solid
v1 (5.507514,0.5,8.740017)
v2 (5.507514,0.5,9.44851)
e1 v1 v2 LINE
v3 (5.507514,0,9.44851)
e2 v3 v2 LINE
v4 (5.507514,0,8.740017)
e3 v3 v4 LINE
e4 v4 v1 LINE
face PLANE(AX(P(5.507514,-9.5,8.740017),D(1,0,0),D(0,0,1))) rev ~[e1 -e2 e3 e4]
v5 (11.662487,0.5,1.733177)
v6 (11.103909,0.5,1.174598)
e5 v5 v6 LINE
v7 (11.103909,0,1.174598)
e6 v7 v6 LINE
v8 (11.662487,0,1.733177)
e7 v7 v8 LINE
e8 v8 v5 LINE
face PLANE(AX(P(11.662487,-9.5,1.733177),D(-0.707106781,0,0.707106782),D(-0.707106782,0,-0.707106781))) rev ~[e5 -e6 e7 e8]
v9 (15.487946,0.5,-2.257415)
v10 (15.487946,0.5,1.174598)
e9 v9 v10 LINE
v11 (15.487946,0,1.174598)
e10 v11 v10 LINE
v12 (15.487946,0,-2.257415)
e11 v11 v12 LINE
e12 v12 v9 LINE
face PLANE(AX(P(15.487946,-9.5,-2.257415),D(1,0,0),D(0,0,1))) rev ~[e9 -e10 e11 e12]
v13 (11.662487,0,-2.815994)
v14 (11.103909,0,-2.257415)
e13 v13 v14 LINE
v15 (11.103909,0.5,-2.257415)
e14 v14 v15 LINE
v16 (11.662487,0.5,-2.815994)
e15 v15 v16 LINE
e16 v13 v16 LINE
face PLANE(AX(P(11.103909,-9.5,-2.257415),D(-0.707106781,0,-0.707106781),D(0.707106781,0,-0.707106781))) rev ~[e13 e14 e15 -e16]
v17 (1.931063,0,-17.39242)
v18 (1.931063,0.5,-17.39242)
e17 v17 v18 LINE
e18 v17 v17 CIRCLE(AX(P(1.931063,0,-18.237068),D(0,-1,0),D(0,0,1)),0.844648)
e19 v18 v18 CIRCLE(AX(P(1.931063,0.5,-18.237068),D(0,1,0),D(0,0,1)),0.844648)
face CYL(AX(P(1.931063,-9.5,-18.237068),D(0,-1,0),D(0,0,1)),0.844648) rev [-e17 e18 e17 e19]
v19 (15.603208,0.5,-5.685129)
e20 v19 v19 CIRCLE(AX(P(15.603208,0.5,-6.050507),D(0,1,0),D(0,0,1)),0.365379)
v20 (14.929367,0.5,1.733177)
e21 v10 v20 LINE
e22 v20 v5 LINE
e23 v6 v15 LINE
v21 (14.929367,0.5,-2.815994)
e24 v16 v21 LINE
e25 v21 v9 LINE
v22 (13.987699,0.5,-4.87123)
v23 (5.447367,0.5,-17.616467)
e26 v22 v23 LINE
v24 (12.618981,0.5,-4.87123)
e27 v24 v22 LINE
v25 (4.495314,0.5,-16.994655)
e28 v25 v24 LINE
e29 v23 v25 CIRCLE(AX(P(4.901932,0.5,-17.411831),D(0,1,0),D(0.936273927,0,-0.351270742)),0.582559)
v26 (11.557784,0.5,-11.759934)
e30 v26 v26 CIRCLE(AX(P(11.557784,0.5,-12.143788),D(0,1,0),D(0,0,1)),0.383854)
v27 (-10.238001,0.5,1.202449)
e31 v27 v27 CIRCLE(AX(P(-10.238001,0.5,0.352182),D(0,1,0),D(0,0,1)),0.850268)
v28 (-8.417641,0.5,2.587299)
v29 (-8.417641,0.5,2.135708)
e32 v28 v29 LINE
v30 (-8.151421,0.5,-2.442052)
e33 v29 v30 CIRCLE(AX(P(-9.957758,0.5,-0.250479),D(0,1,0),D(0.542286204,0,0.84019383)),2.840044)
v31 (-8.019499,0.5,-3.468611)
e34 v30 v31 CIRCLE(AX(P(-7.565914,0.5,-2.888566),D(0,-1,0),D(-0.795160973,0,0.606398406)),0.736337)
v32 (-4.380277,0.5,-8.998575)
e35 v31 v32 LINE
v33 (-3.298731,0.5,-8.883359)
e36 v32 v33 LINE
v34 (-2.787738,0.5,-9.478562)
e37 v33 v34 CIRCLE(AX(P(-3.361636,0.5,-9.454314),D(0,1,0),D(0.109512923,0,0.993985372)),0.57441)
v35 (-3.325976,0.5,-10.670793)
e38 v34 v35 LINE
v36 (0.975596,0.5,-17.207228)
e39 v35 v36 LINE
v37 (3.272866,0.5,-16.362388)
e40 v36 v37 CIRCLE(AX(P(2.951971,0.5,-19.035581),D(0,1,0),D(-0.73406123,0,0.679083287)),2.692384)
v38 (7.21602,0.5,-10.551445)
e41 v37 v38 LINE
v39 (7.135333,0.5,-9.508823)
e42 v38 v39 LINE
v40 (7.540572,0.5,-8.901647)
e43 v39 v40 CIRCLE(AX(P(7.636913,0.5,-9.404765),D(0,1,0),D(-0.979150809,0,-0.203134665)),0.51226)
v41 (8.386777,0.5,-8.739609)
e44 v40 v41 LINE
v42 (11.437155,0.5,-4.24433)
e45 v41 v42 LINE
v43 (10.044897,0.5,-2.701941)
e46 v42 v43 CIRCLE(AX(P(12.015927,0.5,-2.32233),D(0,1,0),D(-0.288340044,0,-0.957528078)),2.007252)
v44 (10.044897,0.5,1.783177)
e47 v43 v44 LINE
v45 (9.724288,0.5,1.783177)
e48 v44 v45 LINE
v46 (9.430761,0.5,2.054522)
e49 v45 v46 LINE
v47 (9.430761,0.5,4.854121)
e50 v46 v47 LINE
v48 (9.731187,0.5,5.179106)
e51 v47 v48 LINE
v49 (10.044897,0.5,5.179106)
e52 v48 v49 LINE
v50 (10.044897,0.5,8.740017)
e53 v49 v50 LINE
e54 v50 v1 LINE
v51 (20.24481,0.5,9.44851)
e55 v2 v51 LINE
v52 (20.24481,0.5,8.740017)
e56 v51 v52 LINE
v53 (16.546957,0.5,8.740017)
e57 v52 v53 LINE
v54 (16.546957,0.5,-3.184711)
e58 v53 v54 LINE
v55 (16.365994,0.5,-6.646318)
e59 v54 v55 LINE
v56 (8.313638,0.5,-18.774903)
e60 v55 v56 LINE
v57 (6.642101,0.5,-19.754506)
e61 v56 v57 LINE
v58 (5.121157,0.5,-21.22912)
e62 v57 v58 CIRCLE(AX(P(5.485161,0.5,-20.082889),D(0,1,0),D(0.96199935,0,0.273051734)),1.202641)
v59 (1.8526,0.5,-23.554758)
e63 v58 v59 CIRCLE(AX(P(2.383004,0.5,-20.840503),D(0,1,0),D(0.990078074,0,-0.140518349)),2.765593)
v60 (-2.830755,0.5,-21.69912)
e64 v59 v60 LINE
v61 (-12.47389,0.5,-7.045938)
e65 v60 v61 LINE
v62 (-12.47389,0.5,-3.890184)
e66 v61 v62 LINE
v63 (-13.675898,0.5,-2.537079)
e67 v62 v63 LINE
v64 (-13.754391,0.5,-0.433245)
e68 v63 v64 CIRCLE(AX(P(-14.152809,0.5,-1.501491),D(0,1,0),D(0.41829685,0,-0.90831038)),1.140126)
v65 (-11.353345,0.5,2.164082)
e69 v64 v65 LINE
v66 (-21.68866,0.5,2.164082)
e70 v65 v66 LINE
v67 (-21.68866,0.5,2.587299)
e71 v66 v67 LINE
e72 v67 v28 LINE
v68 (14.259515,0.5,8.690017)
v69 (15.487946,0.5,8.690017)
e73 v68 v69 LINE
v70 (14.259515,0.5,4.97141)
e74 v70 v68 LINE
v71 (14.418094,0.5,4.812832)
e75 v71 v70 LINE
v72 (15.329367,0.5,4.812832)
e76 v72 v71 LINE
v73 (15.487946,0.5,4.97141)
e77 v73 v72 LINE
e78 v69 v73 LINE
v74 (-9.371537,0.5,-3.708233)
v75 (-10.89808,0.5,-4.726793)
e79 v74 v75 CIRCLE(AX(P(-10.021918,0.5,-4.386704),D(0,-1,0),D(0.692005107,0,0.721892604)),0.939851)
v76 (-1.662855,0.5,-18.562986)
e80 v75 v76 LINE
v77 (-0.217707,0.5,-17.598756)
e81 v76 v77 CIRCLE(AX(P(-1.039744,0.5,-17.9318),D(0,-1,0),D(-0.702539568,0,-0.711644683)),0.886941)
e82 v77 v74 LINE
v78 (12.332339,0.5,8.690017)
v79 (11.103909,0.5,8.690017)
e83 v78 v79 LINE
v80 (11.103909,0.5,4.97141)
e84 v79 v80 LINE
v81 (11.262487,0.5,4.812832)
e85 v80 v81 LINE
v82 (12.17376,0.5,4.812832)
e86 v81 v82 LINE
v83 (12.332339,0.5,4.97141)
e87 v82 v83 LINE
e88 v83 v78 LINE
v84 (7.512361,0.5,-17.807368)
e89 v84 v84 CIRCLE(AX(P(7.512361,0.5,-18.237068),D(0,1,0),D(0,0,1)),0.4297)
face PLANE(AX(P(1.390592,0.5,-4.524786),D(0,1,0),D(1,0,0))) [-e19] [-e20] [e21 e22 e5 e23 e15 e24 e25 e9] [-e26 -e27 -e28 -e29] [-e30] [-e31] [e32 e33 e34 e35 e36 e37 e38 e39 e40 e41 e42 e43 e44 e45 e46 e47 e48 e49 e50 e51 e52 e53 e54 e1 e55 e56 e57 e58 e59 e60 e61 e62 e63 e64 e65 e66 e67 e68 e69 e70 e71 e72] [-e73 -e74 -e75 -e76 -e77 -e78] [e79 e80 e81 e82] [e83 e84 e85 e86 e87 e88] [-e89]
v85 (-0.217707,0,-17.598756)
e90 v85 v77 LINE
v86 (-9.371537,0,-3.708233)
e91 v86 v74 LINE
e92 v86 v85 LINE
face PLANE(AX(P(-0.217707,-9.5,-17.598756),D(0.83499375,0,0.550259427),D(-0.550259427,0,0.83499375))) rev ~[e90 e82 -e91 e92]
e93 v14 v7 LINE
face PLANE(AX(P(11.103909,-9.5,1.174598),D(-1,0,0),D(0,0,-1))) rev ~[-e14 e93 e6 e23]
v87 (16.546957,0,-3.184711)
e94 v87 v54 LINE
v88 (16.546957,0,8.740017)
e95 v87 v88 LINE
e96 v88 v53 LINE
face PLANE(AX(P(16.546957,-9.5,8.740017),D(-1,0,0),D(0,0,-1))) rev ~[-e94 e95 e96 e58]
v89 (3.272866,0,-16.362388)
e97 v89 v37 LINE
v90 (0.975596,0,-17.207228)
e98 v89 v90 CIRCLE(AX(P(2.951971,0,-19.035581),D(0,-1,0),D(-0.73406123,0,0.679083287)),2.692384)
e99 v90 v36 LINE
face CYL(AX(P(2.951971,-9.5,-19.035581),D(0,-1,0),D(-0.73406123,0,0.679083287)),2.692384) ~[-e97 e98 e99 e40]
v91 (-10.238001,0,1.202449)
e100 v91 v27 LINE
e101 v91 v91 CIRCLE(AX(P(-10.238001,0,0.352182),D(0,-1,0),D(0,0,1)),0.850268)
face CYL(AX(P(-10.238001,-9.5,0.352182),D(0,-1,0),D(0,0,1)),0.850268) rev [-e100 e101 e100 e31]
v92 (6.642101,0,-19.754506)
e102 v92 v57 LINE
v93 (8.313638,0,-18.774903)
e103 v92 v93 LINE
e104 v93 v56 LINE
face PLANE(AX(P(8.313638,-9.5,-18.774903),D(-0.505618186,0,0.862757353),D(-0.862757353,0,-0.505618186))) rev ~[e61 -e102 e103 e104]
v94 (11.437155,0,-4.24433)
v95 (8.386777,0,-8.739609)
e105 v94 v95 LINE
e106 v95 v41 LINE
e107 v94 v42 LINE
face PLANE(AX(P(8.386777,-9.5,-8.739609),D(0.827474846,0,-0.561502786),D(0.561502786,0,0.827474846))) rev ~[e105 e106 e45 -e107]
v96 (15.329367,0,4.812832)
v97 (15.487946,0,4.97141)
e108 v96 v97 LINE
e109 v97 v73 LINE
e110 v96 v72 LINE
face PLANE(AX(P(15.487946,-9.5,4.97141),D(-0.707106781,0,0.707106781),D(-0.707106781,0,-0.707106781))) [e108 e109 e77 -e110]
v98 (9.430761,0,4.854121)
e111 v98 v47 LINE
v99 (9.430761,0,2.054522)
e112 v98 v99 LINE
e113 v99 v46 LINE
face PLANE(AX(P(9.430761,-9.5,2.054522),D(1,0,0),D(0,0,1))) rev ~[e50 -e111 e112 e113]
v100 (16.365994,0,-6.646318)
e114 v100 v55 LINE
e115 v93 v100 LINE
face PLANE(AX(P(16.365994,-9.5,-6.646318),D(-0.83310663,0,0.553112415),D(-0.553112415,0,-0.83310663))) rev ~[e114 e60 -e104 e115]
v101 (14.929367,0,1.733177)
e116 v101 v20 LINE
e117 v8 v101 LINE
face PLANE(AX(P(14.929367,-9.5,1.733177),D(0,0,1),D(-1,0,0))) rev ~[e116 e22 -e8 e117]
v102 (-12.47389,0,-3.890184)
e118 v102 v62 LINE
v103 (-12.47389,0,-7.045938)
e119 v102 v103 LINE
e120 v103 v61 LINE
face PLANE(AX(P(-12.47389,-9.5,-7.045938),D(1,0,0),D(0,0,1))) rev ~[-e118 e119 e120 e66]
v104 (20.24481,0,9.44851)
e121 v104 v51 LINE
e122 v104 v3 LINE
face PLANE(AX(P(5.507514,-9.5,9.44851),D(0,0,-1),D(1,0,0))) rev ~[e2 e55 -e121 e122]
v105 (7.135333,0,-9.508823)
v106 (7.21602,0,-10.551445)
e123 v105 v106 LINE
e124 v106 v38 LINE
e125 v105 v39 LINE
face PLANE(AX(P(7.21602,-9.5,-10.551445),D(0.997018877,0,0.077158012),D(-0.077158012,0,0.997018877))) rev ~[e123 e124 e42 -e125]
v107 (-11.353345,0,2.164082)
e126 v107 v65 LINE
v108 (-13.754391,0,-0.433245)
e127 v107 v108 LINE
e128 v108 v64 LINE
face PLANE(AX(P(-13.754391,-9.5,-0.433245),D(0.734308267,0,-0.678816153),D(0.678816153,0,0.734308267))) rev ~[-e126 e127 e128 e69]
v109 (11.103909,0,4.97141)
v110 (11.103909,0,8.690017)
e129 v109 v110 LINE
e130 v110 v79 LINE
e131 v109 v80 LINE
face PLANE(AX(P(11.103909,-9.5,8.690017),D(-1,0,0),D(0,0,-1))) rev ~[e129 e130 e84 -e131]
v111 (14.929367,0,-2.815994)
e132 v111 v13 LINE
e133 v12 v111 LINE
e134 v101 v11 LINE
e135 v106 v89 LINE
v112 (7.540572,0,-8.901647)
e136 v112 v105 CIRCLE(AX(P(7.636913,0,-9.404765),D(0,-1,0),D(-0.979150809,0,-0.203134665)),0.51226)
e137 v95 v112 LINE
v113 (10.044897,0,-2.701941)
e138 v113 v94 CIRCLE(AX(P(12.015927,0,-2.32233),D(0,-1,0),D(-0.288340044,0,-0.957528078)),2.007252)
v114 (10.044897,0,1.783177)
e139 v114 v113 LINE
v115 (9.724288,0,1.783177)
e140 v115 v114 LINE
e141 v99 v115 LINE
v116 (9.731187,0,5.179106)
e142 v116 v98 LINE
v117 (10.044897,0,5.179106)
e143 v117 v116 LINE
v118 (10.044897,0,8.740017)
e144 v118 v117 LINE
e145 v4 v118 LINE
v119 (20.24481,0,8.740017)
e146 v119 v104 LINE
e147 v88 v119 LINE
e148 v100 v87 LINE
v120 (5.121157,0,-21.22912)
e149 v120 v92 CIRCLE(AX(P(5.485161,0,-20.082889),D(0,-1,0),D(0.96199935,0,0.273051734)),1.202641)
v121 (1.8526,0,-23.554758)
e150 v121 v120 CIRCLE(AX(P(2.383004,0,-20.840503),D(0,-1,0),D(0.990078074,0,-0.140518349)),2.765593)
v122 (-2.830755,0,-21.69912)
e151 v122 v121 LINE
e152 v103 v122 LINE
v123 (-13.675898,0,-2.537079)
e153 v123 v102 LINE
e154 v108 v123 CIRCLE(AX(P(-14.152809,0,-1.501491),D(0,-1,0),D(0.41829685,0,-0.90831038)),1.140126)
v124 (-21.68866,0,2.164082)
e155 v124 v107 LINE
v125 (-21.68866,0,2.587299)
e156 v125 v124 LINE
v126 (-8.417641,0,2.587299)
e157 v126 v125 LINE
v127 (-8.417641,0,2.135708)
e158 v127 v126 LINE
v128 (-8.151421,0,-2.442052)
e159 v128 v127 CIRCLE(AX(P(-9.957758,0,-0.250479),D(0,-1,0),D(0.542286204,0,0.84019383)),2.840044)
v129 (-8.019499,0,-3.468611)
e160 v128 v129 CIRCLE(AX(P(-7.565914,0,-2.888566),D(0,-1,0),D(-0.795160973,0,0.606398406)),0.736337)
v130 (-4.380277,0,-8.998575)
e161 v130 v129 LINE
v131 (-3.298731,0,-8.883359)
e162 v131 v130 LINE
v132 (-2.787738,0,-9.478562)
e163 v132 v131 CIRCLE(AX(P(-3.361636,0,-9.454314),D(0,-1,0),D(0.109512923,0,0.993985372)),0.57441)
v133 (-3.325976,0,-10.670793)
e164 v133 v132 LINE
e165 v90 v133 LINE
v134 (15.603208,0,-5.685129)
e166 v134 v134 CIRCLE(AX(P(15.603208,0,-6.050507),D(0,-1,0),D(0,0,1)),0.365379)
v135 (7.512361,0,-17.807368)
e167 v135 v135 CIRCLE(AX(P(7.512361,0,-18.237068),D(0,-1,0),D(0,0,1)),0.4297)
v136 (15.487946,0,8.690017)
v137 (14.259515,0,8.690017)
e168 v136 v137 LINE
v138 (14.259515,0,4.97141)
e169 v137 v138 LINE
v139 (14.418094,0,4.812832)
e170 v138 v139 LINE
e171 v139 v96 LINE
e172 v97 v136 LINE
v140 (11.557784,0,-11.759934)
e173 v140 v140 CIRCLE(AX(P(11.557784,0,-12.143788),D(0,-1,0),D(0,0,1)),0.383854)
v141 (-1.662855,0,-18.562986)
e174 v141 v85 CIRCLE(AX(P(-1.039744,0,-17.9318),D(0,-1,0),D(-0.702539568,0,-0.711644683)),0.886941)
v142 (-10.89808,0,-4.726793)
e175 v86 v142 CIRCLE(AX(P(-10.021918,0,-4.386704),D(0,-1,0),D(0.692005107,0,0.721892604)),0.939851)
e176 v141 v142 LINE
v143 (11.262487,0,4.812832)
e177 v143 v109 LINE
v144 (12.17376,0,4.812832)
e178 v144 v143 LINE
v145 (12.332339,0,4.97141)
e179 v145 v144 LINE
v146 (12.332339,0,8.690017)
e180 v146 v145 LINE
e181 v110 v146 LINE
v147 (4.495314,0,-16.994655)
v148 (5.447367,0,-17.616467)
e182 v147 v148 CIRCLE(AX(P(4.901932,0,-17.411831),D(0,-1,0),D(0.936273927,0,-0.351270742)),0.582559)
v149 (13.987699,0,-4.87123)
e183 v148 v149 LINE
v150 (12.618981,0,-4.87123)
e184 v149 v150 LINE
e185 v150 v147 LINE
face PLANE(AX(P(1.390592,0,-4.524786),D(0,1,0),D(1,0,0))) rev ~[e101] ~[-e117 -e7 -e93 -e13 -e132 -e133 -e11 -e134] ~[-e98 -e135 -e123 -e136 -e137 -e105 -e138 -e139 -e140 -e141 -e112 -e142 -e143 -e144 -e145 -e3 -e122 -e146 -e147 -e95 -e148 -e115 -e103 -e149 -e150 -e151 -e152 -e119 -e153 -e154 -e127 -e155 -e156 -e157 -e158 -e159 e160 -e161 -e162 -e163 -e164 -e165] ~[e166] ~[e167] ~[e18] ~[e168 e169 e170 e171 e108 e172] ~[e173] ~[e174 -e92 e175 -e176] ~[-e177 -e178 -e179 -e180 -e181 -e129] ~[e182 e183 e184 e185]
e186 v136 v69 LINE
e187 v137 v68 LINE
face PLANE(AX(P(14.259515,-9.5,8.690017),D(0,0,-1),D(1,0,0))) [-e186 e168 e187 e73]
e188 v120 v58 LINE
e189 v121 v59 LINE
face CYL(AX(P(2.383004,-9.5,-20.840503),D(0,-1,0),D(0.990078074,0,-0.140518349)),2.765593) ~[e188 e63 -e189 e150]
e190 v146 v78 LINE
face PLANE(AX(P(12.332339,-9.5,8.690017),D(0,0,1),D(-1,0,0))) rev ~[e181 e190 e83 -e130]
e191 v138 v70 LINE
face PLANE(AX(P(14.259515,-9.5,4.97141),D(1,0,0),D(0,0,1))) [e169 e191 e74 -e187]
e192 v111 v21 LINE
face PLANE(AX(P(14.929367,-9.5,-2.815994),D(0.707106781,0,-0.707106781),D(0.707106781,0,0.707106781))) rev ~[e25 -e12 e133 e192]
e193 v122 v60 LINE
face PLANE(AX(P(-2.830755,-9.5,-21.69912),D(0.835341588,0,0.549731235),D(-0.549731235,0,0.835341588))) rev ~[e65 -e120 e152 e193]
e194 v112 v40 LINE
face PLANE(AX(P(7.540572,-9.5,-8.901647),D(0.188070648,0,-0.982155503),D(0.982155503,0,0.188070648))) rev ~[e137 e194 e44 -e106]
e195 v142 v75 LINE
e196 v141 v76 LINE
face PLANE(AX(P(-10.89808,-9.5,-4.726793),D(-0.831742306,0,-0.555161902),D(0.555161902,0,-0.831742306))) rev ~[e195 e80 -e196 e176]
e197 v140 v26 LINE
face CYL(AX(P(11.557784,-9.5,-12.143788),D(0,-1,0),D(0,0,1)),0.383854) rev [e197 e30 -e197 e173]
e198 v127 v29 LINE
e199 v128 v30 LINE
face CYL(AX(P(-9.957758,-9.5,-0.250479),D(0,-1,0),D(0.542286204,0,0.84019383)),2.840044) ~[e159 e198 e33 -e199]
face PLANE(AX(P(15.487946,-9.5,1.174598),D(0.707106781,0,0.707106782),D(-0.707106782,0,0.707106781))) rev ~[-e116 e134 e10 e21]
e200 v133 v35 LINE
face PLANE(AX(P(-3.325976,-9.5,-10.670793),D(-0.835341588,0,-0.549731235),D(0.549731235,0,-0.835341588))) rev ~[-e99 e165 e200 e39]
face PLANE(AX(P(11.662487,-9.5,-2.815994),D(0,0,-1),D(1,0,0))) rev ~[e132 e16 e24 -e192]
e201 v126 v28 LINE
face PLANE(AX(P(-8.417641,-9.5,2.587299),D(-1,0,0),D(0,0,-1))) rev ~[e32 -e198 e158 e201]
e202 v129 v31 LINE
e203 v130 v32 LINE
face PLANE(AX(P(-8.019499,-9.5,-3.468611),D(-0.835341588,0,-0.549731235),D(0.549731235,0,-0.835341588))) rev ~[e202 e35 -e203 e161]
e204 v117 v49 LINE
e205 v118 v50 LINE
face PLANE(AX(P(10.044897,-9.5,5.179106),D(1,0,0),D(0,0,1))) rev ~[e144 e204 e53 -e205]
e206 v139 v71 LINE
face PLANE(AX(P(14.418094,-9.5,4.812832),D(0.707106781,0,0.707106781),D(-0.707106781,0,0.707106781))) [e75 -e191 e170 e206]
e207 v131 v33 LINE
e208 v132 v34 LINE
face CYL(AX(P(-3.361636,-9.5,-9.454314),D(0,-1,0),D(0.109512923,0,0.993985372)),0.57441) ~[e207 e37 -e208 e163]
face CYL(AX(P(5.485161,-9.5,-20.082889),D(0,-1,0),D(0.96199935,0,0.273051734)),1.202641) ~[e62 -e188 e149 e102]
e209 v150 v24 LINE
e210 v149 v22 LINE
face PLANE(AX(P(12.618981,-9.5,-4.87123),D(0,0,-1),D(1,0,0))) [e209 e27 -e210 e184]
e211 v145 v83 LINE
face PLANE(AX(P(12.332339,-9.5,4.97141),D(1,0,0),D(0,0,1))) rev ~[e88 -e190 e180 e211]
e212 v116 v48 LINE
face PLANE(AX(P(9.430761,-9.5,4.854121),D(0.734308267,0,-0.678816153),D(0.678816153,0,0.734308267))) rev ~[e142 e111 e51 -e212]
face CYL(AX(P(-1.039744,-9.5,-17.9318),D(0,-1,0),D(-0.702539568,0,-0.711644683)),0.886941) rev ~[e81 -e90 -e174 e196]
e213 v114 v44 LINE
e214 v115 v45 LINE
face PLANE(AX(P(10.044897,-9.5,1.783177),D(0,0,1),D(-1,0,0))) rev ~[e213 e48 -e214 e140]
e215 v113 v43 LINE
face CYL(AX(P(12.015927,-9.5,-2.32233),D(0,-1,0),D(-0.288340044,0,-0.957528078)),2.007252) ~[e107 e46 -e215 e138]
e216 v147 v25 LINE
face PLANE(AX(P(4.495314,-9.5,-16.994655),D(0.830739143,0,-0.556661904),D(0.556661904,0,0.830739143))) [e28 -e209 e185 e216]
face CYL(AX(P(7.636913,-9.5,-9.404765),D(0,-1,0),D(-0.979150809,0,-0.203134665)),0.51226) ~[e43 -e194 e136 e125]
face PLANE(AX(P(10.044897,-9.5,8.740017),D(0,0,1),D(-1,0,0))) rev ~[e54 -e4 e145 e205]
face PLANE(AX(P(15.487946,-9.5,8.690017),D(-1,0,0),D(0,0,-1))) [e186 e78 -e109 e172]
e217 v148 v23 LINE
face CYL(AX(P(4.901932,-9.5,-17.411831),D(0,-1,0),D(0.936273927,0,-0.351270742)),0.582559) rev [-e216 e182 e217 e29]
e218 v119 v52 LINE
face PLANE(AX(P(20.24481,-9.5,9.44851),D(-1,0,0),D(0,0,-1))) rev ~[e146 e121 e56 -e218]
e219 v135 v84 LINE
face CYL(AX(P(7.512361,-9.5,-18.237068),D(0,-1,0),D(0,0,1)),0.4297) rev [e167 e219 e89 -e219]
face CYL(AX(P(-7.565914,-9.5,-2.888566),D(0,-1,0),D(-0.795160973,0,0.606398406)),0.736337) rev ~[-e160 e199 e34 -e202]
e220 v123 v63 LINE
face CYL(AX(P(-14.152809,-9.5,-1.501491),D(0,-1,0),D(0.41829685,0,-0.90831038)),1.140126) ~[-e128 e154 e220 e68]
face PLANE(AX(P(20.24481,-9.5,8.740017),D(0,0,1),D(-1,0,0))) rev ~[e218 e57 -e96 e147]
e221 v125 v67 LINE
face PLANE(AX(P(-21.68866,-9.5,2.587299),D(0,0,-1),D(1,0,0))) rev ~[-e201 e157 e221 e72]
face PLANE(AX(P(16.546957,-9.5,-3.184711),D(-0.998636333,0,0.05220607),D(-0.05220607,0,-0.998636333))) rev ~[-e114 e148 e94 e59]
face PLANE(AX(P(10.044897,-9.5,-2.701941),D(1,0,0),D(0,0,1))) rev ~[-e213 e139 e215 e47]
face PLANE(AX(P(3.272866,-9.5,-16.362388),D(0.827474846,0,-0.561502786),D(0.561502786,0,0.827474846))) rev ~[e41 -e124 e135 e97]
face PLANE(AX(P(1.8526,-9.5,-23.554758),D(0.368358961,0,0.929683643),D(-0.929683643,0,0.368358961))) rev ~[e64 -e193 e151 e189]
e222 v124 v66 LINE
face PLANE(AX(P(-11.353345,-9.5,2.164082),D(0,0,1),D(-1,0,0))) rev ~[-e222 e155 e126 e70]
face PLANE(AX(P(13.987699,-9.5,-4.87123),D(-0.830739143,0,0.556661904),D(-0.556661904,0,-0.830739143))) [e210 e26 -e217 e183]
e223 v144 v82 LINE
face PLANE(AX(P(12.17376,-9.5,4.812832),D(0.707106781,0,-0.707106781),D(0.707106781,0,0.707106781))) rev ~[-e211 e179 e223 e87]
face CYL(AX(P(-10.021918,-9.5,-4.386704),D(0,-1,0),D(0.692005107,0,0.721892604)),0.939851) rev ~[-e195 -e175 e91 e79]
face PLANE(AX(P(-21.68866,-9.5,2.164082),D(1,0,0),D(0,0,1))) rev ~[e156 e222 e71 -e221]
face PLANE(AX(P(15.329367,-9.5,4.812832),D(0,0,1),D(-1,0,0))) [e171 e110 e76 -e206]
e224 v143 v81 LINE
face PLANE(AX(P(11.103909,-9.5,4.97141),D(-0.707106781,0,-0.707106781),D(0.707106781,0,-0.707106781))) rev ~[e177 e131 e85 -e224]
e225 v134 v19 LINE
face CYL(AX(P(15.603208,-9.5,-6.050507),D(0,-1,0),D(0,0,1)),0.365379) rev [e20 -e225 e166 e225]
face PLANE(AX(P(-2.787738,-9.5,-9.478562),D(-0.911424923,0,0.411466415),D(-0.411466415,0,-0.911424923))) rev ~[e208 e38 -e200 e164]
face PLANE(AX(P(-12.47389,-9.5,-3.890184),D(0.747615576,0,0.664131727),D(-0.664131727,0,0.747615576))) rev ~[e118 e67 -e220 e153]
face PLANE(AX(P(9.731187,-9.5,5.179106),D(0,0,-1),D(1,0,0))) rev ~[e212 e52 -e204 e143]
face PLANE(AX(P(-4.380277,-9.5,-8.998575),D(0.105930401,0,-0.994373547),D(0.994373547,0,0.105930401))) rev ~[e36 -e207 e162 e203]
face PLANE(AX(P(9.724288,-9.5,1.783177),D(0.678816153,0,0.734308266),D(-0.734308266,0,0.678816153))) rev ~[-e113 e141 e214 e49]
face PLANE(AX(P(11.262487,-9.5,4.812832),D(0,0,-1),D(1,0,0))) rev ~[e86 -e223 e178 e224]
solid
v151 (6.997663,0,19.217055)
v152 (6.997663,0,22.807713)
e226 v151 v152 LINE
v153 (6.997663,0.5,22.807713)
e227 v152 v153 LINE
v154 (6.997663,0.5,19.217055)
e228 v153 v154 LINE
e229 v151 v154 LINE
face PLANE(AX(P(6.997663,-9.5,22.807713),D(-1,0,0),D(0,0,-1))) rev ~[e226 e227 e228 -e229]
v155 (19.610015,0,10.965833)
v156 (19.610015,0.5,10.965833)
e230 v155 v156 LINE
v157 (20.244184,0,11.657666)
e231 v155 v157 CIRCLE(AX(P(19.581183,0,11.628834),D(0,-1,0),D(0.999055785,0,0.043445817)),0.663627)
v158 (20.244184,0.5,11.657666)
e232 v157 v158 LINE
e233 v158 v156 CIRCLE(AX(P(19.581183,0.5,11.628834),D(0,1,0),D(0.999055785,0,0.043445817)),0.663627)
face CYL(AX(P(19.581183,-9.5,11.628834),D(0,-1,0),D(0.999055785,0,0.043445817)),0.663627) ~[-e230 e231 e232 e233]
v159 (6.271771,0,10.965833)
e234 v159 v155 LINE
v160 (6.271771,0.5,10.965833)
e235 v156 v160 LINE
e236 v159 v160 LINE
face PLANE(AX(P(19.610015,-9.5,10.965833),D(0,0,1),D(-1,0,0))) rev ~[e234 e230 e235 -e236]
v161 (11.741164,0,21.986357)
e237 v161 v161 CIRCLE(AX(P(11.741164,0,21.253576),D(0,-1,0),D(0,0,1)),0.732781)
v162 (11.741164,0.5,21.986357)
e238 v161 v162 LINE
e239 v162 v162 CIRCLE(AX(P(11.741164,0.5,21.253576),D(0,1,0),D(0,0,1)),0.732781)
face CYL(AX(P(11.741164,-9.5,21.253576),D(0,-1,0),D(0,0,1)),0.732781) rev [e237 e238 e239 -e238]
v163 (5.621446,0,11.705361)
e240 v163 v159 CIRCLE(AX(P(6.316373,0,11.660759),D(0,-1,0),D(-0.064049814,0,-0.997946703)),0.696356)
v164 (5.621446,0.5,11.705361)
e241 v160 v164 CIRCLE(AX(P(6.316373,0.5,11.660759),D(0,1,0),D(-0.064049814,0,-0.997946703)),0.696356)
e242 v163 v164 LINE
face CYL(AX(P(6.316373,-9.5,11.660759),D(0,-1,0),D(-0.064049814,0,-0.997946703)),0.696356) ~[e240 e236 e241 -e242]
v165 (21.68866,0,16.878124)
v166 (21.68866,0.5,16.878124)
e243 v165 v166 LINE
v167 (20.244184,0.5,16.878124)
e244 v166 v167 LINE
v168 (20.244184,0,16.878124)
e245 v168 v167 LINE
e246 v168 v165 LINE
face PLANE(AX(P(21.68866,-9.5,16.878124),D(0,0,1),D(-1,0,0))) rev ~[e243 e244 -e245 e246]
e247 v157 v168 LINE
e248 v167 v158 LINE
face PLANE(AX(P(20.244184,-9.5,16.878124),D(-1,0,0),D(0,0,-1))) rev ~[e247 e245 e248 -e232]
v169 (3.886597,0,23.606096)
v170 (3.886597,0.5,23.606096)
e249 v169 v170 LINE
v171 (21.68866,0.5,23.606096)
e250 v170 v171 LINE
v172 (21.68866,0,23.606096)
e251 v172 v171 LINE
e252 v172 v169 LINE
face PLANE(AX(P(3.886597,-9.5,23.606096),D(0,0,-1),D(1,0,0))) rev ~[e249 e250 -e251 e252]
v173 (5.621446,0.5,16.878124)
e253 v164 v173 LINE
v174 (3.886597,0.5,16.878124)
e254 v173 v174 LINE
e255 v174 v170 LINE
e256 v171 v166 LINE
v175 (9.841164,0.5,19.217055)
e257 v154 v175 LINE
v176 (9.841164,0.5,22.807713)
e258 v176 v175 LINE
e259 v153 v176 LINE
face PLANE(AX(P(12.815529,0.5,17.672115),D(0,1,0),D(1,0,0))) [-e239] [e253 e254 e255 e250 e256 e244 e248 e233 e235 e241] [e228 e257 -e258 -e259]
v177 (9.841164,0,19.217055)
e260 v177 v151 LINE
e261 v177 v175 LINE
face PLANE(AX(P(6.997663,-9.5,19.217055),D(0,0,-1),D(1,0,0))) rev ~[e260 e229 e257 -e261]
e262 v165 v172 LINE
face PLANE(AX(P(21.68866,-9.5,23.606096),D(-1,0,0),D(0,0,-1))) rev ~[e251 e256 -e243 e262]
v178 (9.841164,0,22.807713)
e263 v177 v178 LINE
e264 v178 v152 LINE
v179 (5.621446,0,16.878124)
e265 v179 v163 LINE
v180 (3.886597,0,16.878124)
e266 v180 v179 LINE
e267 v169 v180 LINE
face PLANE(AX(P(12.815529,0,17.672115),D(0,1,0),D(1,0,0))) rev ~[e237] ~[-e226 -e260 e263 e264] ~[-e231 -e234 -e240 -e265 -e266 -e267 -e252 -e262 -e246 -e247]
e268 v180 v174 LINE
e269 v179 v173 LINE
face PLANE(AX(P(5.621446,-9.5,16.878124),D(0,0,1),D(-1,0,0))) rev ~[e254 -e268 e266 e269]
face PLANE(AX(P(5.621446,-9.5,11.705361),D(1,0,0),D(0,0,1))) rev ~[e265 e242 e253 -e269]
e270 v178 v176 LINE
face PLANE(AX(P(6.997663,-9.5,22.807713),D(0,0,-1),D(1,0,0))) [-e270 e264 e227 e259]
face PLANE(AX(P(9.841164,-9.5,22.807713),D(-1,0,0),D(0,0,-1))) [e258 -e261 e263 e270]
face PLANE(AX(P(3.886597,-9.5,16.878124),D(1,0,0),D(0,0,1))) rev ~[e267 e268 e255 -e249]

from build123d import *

# Parameters (mm, degrees)
SKETCH4_R             = 0.750267771
SKETCH4_R_2           = 0.265378854
SKETCH4_R_3           = 0.744648083
SKETCH4_R_4           = 0.32969998
SKETCH4_R_5           = 0.283853506
BOSS_EXTRUDE1_DEPTH   = 0.5
SKETCH4_R_6           = 0.632780779
SKETCH4_W             = 2.64350155
SKETCH4_H             = 3.390658061
BOSS_EXTRUDE1_2_DEPTH = 0.5
CUT_EXTRUDE2_START    = -10
CUT_EXTRUDE2_DEPTH    = 10
CUT_EXTRUDE3_START    = -10
SKETCH6_R             = 0.732780779
SKETCH6_R_2           = 0.632780779
SKETCH6_R_3           = 0.850267771
SKETCH6_R_4           = 0.750267771
SKETCH6_R_5           = 0.844648083
SKETCH6_R_6           = 0.744648083
SKETCH6_R_7           = 0.42969998
SKETCH6_R_8           = 0.32969998
SKETCH6_R_9           = 0.365378854
SKETCH6_R_10          = 0.265378854
SKETCH6_W             = 2.84350155
SKETCH6_H             = 3.590658061
SKETCH6_W_2           = 2.64350155
SKETCH6_H_2           = 3.390658061
SKETCH6_R_11          = 0.383853506
SKETCH6_R_12          = 0.283853506
CUT_EXTRUDE3_DEPTH    = 10


with BuildPart() as part:
    # Sketch4 → Boss-Extrude1 (new body)
    with BuildSketch(Plane(origin=(0, 0, 0), x_dir=(1, 0, 0), z_dir=(0, 1, 0))):
        with BuildLine():
            Line((-11.696283574, -2.014082393), (-21.838660036, -2.014082393))
            Line((-21.838660036, -2.014082393), (-21.838660036, -2.737299418))
            Line((-21.838660036, -2.737299418), (-8.267641282, -2.737299418))
            Line((-8.267641282, -2.737299418), (-8.267641282, -2.216070709))
            ThreePointArc((-8.267641282, -2.216070709), (-6.9710726, 0.108801001), (-8.041746829, 2.545966467))
            ThreePointArc((-8.041746829, 2.545966467), (-8.144633072, 2.982775881), (-7.908513733, 3.364398341))
            Line((-7.908513733, 3.364398341), (-4.305242174, 8.839733186))
            Line((-4.305242174, 8.839733186), (-3.299405457, 8.732581616))
            ThreePointArc((-3.299405457, 8.732581616), (-2.807647773, 8.98755206), (-2.639809989, 9.515440329))
            Line((-2.639809989, 9.515440329), (-3.155299637, 10.657283488))
            Line((-3.155299637, 10.657283488), (0.999182594, 16.970207993))
            ThreePointArc((0.999182594, 16.970207993), (2.017035083, 16.351359893), (3.199096829, 16.203960132))
            Line((3.199096829, 16.203960132), (7.062416262, 10.510667533))
            Line((7.062416262, 10.510667533), (6.986470802, 9.529316973))
            ThreePointArc((6.986470802, 9.529316973), (7.088909536, 9.032904845), (7.512361042, 8.754323587))
            Line((7.512361042, 8.754323587), (8.297542954, 8.603970949))
            Line((8.297542954, 8.603970949), (11.203908829, 4.320920683))
            ThreePointArc((11.203908829, 4.320920683), (10.34420923, 3.685817641), (9.894897145, 2.715993984))
            Line((9.894897145, 2.715993984), (9.894897145, -1.633176582))
            Line((9.894897145, -1.633176582), (9.665577443, -1.633176582))
            Line((9.665577443, -1.633176582), (9.280761035, -1.988912184))
            Line((9.280761035, -1.988912184), (9.280761035, -4.912831705))
            Line((9.280761035, -4.912831705), (9.665577443, -5.329106227))
            Line((9.665577443, -5.329106227), (9.894897145, -5.329106227))
            Line((9.894897145, -5.329106227), (9.894897145, -8.590016683))
            Line((9.894897145, -8.590016683), (5.357513848, -8.590016683))
            Line((5.357513848, -8.590016683), (5.357513848, -9.598509545))
            Line((5.357513848, -9.598509545), (20.394810246, -9.598509545))
            Line((20.394810246, -9.598509545), (20.394810246, -8.590016683))
            Line((20.394810246, -8.590016683), (16.696957273, -8.590016683))
            Line((16.696957273, -8.590016683), (16.696957273, 3.188629617))
            Line((16.696957273, 3.188629617), (16.513647646, 6.695111796))
            Line((16.513647646, 6.695111796), (8.419413526, 18.886774693))
            Line((8.419413526, 18.886774693), (6.813548497, 19.827890477))
            ThreePointArc((6.813548497, 19.827890477), (6.445780879, 21.035174164), (5.24174765, 21.413447748))
            ThreePointArc((5.24174765, 21.413447748), (3.999308004, 23.267073464), (1.810059191, 23.699247279))
            Line((1.810059191, 23.699247279), (-2.930027074, 21.821131787))
            Line((-2.930027074, 21.821131787), (-12.623890047, 7.090866568))
            Line((-12.623890047, 7.090866568), (-12.623890047, 3.94718675))
            Line((-12.623890047, 3.94718675), (-13.717599439, 2.715993984))
            ThreePointArc((-13.717599439, 2.715993984), (-15.442222206, 1.544355583), (-13.799219853, 0.2607655))
            Line((-13.799219853, 0.2607655), (-11.696283574, -2.014082393))
        make_face()
        Polygon((15.387945589, -5.012831705), (15.387945589, -8.590016683), (14.359515417, -8.590016683), (14.359515417, -5.012831705), (14.459515417, -4.912831705), (15.287945589, -4.912831705), align=None, mode=Mode.SUBTRACT)
        Polygon((12.232339001, -5.012831705), (12.232339001, -8.590016683), (11.203908829, -8.590016683), (11.203908829, -5.012831705), (11.303908829, -4.912831705), (12.132339001, -4.912831705), align=None, mode=Mode.SUBTRACT)
        with Locations(Location((-10.238001202, -0.352181677, 0), (0, 0, 270))):
            Circle(SKETCH4_R, mode=Mode.SUBTRACT)
        with BuildLine():
            ThreePointArc((-9.448675298, 3.772911532), (-10.488171503, 3.68816485), (-10.80864856, 4.68065103))
            Line((-10.80864856, 4.68065103), (-1.58551386, 18.498730584))
            ThreePointArc((-1.58551386, 18.498730584), (-0.602864551, 18.586331432), (-0.306829257, 17.645248717))
            Line((-0.306829257, 17.645248717), (-9.448675298, 3.772911532))
        make_face(mode=Mode.SUBTRACT)
        with BuildLine():
            Line((12.672348148, 4.971230017), (4.572305297, 17.059398095))
            ThreePointArc((4.572305297, 17.059398095), (4.638532997, 17.816162349), (5.357513848, 17.570918019))
            Line((5.357513848, 17.570918019), (13.800316104, 4.971230017))
            Line((13.800316104, 4.971230017), (12.672348148, 4.971230017))
        make_face(mode=Mode.SUBTRACT)
        Polygon((14.887945589, 2.715993984), (15.387945589, 2.215993984), (15.387945589, -1.133176582), (14.887945589, -1.633176582), (11.703908829, -1.633176582), (11.203908829, -1.133176582), (11.203908829, 2.215993984), (11.703908829, 2.715993984), align=None, mode=Mode.SUBTRACT)
        with Locations(Location((15.603207878, 6.050507476, 0), (0, 0, 270))):
            Circle(SKETCH4_R_2, mode=Mode.SUBTRACT)
        with Locations(Location((1.931063129, 18.237068392, 0), (0, 0, 270))):
            Circle(SKETCH4_R_3, mode=Mode.SUBTRACT)
        with Locations(Location((7.512361042, 18.237068392, 0), (0, 0, 270))):
            Circle(SKETCH4_R_4, mode=Mode.SUBTRACT)
        with Locations(Location((11.55778446, 12.143787934, 0), (0, 0, 270))):
            Circle(SKETCH4_R_5, mode=Mode.SUBTRACT)
    extrude(amount=BOSS_EXTRUDE1_DEPTH)


with BuildPart() as body_2:
    # Sketch4 → Boss-Extrude1 2 (new body)
    with BuildSketch(Plane(origin=(0, 0, 0), x_dir=(1, 0, 0), z_dir=(0, 1, 0))):
        with BuildLine():
            Line((19.613108594, -10.815832828), (6.267197301, -10.815832828))
            ThreePointArc((6.267197301, -10.815832828), (5.68414714, -11.098078534), (5.47144627, -11.70993511))
            Line((5.47144627, -11.70993511), (5.47144627, -16.728123553))
            Line((5.47144627, -16.728123553), (3.736597162, -16.728123553))
            Line((3.736597162, -16.728123553), (3.736597162, -23.756096292))
            Line((3.736597162, -23.756096292), (21.838660036, -23.756096292))
            Line((21.838660036, -23.756096292), (21.838660036, -16.728123553))
            Line((21.838660036, -16.728123553), (20.394183639, -16.728123553))
            Line((20.394183639, -16.728123553), (20.394183639, -11.660759485))
            ThreePointArc((20.394183639, -11.660759485), (20.178636157, -11.076530218), (19.613108594, -10.815832828))
        make_face()
        with Locations(Location((11.741164301, -21.25357645, 0), (0, 0, 270))):
            Circle(SKETCH4_R_6, mode=Mode.SUBTRACT)
        with Locations((8.419413526, -21.012384273)):
            Rectangle(SKETCH4_W, SKETCH4_H, mode=Mode.SUBTRACT)
    extrude(amount=BOSS_EXTRUDE1_2_DEPTH)


with BuildPart() as cut_extrude2_tool:
    # Sketch5 → Cut-Extrude2 (new body)
    # profile 1 of 2: a face of its own
    with BuildSketch(Plane(origin=(0, 0.5, 0), x_dir=(1, 0, 0), z_dir=(0, 1, 0)).offset(CUT_EXTRUDE2_START)):
        with BuildLine():
            Line((20.394183639, -16.728123553), (20.394183639, -11.660759485))
            ThreePointArc((20.394183639, -11.660759485), (20.178636157, -11.076530218), (19.613108594, -10.815832828))
            Line((19.613108594, -10.815832828), (6.267197301, -10.815832828))
            ThreePointArc((6.267197301, -10.815832828), (5.68414714, -11.098078534), (5.47144627, -11.70993511))
            Line((5.47144627, -11.70993511), (5.47144627, -16.728123553))
            Line((5.47144627, -16.728123553), (3.736597162, -16.728123553))
            Line((3.736597162, -16.728123553), (3.736597162, -23.756096292))
            Line((3.736597162, -23.756096292), (21.838660036, -23.756096292))
            Line((21.838660036, -23.756096292), (21.838660036, -16.728123553))
            Line((21.838660036, -16.728123553), (20.394183639, -16.728123553))
        make_face()
        with BuildLine():
            Line((20.244183639, -16.878123553), (20.244183639, -11.657665517))
            ThreePointArc((20.244183639, -11.657665517), (20.070382374, -11.18040847), (19.610014627, -10.965832828))
            Line((19.610014627, -10.965832828), (6.271771424, -10.965832828))
            ThreePointArc((6.271771424, -10.965832828), (5.79344755, -11.200910159), (5.62144627, -11.705360988))
            Line((5.62144627, -11.705360988), (5.62144627, -16.878123553))
            Line((5.62144627, -16.878123553), (3.886597162, -16.878123553))
            Line((3.886597162, -16.878123553), (3.886597162, -23.606096292))
            Line((3.886597162, -23.606096292), (21.688660036, -23.606096292))
            Line((21.688660036, -23.606096292), (21.688660036, -16.878123553))
            Line((21.688660036, -16.878123553), (20.244183639, -16.878123553))
        make_face(mode=Mode.SUBTRACT)
    # profile 2 of 2: a face of its own
    with BuildSketch(Plane(origin=(0, 0.5, 0), x_dir=(1, 0, 0), z_dir=(0, 1, 0)).offset(CUT_EXTRUDE2_START)):
        with BuildLine():
            Line((9.894897145, -5.329106227), (9.894897145, -8.590016683))
            Line((9.894897145, -8.590016683), (5.357513848, -8.590016683))
            Line((5.357513848, -8.590016683), (5.357513848, -9.598509545))
            Line((5.357513848, -9.598509545), (20.394810246, -9.598509545))
            Line((20.394810246, -9.598509545), (20.394810246, -8.590016683))
            Line((20.394810246, -8.590016683), (16.696957273, -8.590016683))
            Line((16.696957273, -8.590016683), (16.696957273, 3.188629617))
            Line((16.696957273, 3.188629617), (16.513647646, 6.695111796))
            Line((16.513647646, 6.695111796), (8.419413526, 18.886774693))
            Line((8.419413526, 18.886774693), (6.813548497, 19.827890477))
            ThreePointArc((6.813548497, 19.827890477), (6.445780879, 21.035174164), (5.24174765, 21.413447748))
            ThreePointArc((5.24174765, 21.413447748), (3.999308004, 23.267073464), (1.810059191, 23.699247279))
            Line((1.810059191, 23.699247279), (-2.930027074, 21.821131787))
            Line((-2.930027074, 21.821131787), (-12.623890047, 7.090866568))
            Line((-12.623890047, 7.090866568), (-12.623890047, 3.94718675))
            Line((-12.623890047, 3.94718675), (-13.717599439, 2.715993984))
            ThreePointArc((-13.717599439, 2.715993984), (-15.442222206, 1.544355583), (-13.799219853, 0.2607655))
            Line((-13.799219853, 0.2607655), (-11.696283574, -2.014082393))
            Line((-11.696283574, -2.014082393), (-21.838660036, -2.014082393))
            Line((-21.838660036, -2.014082393), (-21.838660036, -2.737299418))
            Line((-21.838660036, -2.737299418), (-8.267641282, -2.737299418))
            Line((-8.267641282, -2.737299418), (-8.267641282, -2.216070709))
            ThreePointArc((-8.267641282, -2.216070709), (-6.9710726, 0.108801001), (-8.041746829, 2.545966467))
            ThreePointArc((-8.041746829, 2.545966467), (-8.144633072, 2.982775881), (-7.908513733, 3.364398341))
            Line((-7.908513733, 3.364398341), (-4.305242174, 8.839733186))
            Line((-4.305242174, 8.839733186), (-3.299405457, 8.732581616))
            ThreePointArc((-3.299405457, 8.732581616), (-2.807647773, 8.98755206), (-2.639809989, 9.515440329))
            Line((-2.639809989, 9.515440329), (-3.155299637, 10.657283488))
            Line((-3.155299637, 10.657283488), (0.999182594, 16.970207993))
            ThreePointArc((0.999182594, 16.970207993), (2.017035083, 16.351359893), (3.199096829, 16.203960132))
            Line((3.199096829, 16.203960132), (7.062416262, 10.510667533))
            Line((7.062416262, 10.510667533), (6.986470802, 9.529316973))
            ThreePointArc((6.986470802, 9.529316973), (7.088909536, 9.032904845), (7.512361042, 8.754323587))
            Line((7.512361042, 8.754323587), (8.297542954, 8.603970949))
            Line((8.297542954, 8.603970949), (11.203908829, 4.320920683))
            ThreePointArc((11.203908829, 4.320920683), (10.34420923, 3.685817641), (9.894897145, 2.715993984))
            Line((9.894897145, 2.715993984), (9.894897145, -1.633176582))
            Line((9.894897145, -1.633176582), (9.665577443, -1.633176582))
            Line((9.665577443, -1.633176582), (9.280761035, -1.988912184))
            Line((9.280761035, -1.988912184), (9.280761035, -4.912831705))
            Line((9.280761035, -4.912831705), (9.665577443, -5.329106227))
            Line((9.665577443, -5.329106227), (9.894897145, -5.329106227))
        make_face()
        with BuildLine():
            Line((10.044897145, -5.179106227), (10.044897145, -8.740016683))
            Line((10.044897145, -8.740016683), (5.507513848, -8.740016683))
            Line((5.507513848, -8.740016683), (5.507513848, -9.448509545))
            Line((5.507513848, -9.448509545), (20.244810246, -9.448509545))
            Line((20.244810246, -9.448509545), (20.244810246, -8.740016683))
            Line((20.244810246, -8.740016683), (16.546957273, -8.740016683))
            Line((16.546957273, -8.740016683), (16.546957273, 3.184711491))
            Line((16.546957273, 3.184711491), (16.365993628, 6.646317993))
            Line((16.365993628, 6.646317993), (8.313637636, 18.774903394))
            Line((8.313637636, 18.774903394), (6.642100878, 19.754506037))
            ThreePointArc((6.642100878, 19.754506037), (6.322304084, 20.946333695), (5.121156655, 21.229119847))
            ThreePointArc((5.121156655, 21.229119847), (3.98633999, 23.093904553), (1.852600254, 23.554757679))
            Line((1.852600254, 23.554757679), (-2.830754532, 21.699120315))
            Line((-2.830754532, 21.699120315), (-12.473890047, 7.045937773))
            Line((-12.473890047, 7.045937773), (-12.473890047, 3.890183505))
            Line((-12.473890047, 3.890183505), (-13.675897608, 2.537079084))
            ThreePointArc((-13.675897608, 2.537079084), (-15.292141792, 1.543998988), (-13.754390782, 0.433244663))
            Line((-13.754390782, 0.433244663), (-11.353345282, -2.164082393))
            Line((-11.353345282, -2.164082393), (-21.688660036, -2.164082393))
            Line((-21.688660036, -2.164082393), (-21.688660036, -2.587299418))
            Line((-21.688660036, -2.587299418), (-8.417641282, -2.587299418))
            Line((-8.417641282, -2.587299418), (-8.417641282, -2.135708192))
            ThreePointArc((-8.417641282, -2.135708192), (-7.122504541, 0.0855942), (-8.151420666, 2.442052368))
            ThreePointArc((-8.151420666, 2.442052368), (-8.296245408, 2.982419388), (-8.019499448, 3.468611114))
            Line((-8.019499448, 3.468611114), (-4.380276751, 8.998575347))
            Line((-4.380276751, 8.998575347), (-3.298731155, 8.883358526))
            ThreePointArc((-3.298731155, 8.883358526), (-2.925808152, 9.080147199), (-2.78773844, 9.478561684))
            Line((-2.78773844, 9.478561684), (-3.325976175, 10.670793342))
            Line((-3.325976175, 10.670793342), (0.975596103, 17.207227858))
            ThreePointArc((0.975596103, 17.207227858), (2.022674542, 16.508657782), (3.272865989, 16.362388331))
            Line((3.272865989, 16.362388331), (7.216020448, 10.551444535))
            Line((7.216020448, 10.551444535), (7.13533331, 9.508823062))
            ThreePointArc((7.13533331, 9.508823062), (7.210834119, 9.120394319), (7.540571639, 8.901646912))
            Line((7.540571639, 8.901646912), (8.386776871, 8.739609062))
            Line((8.386776871, 8.739609062), (11.437155352, 4.244330447))
            ThreePointArc((11.437155352, 4.244330447), (10.525922488, 3.667301963), (10.044897145, 2.701940981))
            Line((10.044897145, 2.701940981), (10.044897145, -1.783176582))
            Line((10.044897145, -1.783176582), (9.724288126, -1.783176582))
            Line((9.724288126, -1.783176582), (9.430761035, -2.054521656))
            Line((9.430761035, -2.054521656), (9.430761035, -4.854121022))
            Line((9.430761035, -4.854121022), (9.731186914, -5.179106227))
            Line((9.731186914, -5.179106227), (10.044897145, -5.179106227))
        make_face(mode=Mode.SUBTRACT)
    extrude(amount=CUT_EXTRUDE2_DEPTH)


with BuildPart() as part_1:
    add(part.part)

    # Cut-Extrude2: cut by cut_extrude2_tool
    add(cut_extrude2_tool.part, mode=Mode.SUBTRACT)


with BuildPart() as body_2_1:
    add(body_2.part)

    # Cut-Extrude2: cut by cut_extrude2_tool
    add(cut_extrude2_tool.part, mode=Mode.SUBTRACT)


with BuildPart() as cut_extrude3_tool:
    # Sketch6 → Cut-Extrude3 (new body)
    # profile 1 of 12: a face of its own
    with BuildSketch(Plane(origin=(0, 0.5, 0), x_dir=(1, 0, 0), z_dir=(0, 1, 0)).offset(CUT_EXTRUDE3_START)):
        with Locations(Location((11.741164301, -21.25357645, 0), (0, 0, 270))):
            Circle(SKETCH6_R)
        with Locations((11.741164301, -21.25357645)):
            Circle(SKETCH6_R_2, mode=Mode.SUBTRACT)
    # profile 2 of 12: a face of its own
    with BuildSketch(Plane(origin=(0, 0.5, 0), x_dir=(1, 0, 0), z_dir=(0, 1, 0)).offset(CUT_EXTRUDE3_START)):
        with Locations(Location((-10.238001202, -0.352181677, 0), (0, 0, 270))):
            Circle(SKETCH6_R_3)
        with Locations((-10.238001202, -0.352181677)):
            Circle(SKETCH6_R_4, mode=Mode.SUBTRACT)
    # profile 3 of 12: a face of its own
    with BuildSketch(Plane(origin=(0, 0.5, 0), x_dir=(1, 0, 0), z_dir=(0, 1, 0)).offset(CUT_EXTRUDE3_START)):
        with Locations(Location((1.931063129, 18.237068392, 0), (0, 0, 270))):
            Circle(SKETCH6_R_5)
        with Locations((1.931063129, 18.237068392)):
            Circle(SKETCH6_R_6, mode=Mode.SUBTRACT)
    # profile 4 of 12: a face of its own
    with BuildSketch(Plane(origin=(0, 0.5, 0), x_dir=(1, 0, 0), z_dir=(0, 1, 0)).offset(CUT_EXTRUDE3_START)):
        with Locations(Location((7.512361042, 18.237068392, 0), (0, 0, 270))):
            Circle(SKETCH6_R_7)
        with Locations((7.512361042, 18.237068392)):
            Circle(SKETCH6_R_8, mode=Mode.SUBTRACT)
    # profile 5 of 12: a face of its own
    with BuildSketch(Plane(origin=(0, 0.5, 0), x_dir=(1, 0, 0), z_dir=(0, 1, 0)).offset(CUT_EXTRUDE3_START)):
        with Locations(Location((15.603207878, 6.050507476, 0), (0, 0, 270))):
            Circle(SKETCH6_R_9)
        with Locations((15.603207878, 6.050507476)):
            Circle(SKETCH6_R_10, mode=Mode.SUBTRACT)
    # profile 6 of 12: a face of its own
    with BuildSketch(Plane(origin=(0, 0.5, 0), x_dir=(1, 0, 0), z_dir=(0, 1, 0)).offset(CUT_EXTRUDE3_START)):
        with Locations((8.419413526, -21.012384273)):
            Rectangle(SKETCH6_W, SKETCH6_H)
        with Locations((8.419413526, -21.012384273)):
            Rectangle(SKETCH6_W_2, SKETCH6_H_2, mode=Mode.SUBTRACT)
    # profile 7 of 12: a face of its own
    with BuildSketch(Plane(origin=(0, 0.5, 0), x_dir=(1, 0, 0), z_dir=(0, 1, 0)).offset(CUT_EXTRUDE3_START)):
        with BuildLine():
            Line((-0.217706741, 17.598755635), (-9.371537009, 3.708232929))
            ThreePointArc((-9.371537009, 3.708232929), (-10.54356033, 3.604905623), (-10.89807984, 4.726792923))
            Line((-10.89807984, 4.726792923), (-1.662854791, 18.562986211))
            ThreePointArc((-1.662854791, 18.562986211), (-0.547475663, 18.669590616), (-0.217706741, 17.598755635))
        make_face()
        with BuildLine():
            Line((-0.306829257, 17.645248717), (-9.448675298, 3.772911532))
            ThreePointArc((-9.448675298, 3.772911532), (-10.488171503, 3.68816485), (-10.80864856, 4.68065103))
            Line((-10.80864856, 4.68065103), (-1.58551386, 18.498730584))
            ThreePointArc((-1.58551386, 18.498730584), (-0.602864551, 18.586331432), (-0.306829257, 17.645248717))
        make_face(mode=Mode.SUBTRACT)
    # profile 8 of 12: a face of its own
    with BuildSketch(Plane(origin=(0, 0.5, 0), x_dir=(1, 0, 0), z_dir=(0, 1, 0)).offset(CUT_EXTRUDE3_START)):
        with BuildLine():
            Line((12.618981444, 4.871230017), (13.98769886, 4.871230017))
            Line((13.98769886, 4.871230017), (5.447367138, 17.616466951))
            ThreePointArc((5.447367138, 17.616466951), (4.583373022, 17.899575591), (4.495313876, 16.994654643))
            Line((4.495313876, 16.994654643), (12.618981444, 4.871230017))
        make_face()
        with BuildLine():
            Line((12.672348148, 4.971230017), (13.800316104, 4.971230017))
            Line((13.800316104, 4.971230017), (5.357513848, 17.570918019))
            ThreePointArc((5.357513848, 17.570918019), (4.638532997, 17.816162349), (4.572305297, 17.059398095))
            Line((4.572305297, 17.059398095), (12.672348148, 4.971230017))
        make_face(mode=Mode.SUBTRACT)
    # profile 9 of 12: a face of its own
    with BuildSketch(Plane(origin=(0, 0.5, 0), x_dir=(1, 0, 0), z_dir=(0, 1, 0)).offset(CUT_EXTRUDE3_START)):
        with Locations(Location((11.55778446, 12.143787934, 0), (0, 0, 270))):
            Circle(SKETCH6_R_11)
        with Locations((11.55778446, 12.143787934)):
            Circle(SKETCH6_R_12, mode=Mode.SUBTRACT)
    # profile 10 of 12: a face of its own
    with BuildSketch(Plane(origin=(0, 0.5, 0), x_dir=(1, 0, 0), z_dir=(0, 1, 0)).offset(CUT_EXTRUDE3_START)):
        Polygon((15.487945589, -1.174597939), (14.929366945, -1.733176582), (11.662487473, -1.733176582), (11.103908829, -1.174597939), (11.103908829, 2.25741534), (11.662487473, 2.815993984), (14.929366945, 2.815993984), (15.487945589, 2.25741534), align=None)
        Polygon((15.387945589, -1.133176582), (14.887945589, -1.633176582), (11.703908829, -1.633176582), (11.203908829, -1.133176582), (11.203908829, 2.215993984), (11.703908829, 2.715993984), (14.887945589, 2.715993984), (15.387945589, 2.215993984), align=None, mode=Mode.SUBTRACT)
    # profile 11 of 12: a face of its own
    with BuildSketch(Plane(origin=(0, 0.5, 0), x_dir=(1, 0, 0), z_dir=(0, 1, 0)).offset(CUT_EXTRUDE3_START)):
        Polygon((14.418094061, -4.812831705), (14.259515417, -4.971410349), (14.259515417, -8.690016683), (15.487945589, -8.690016683), (15.487945589, -4.971410349), (15.329366945, -4.812831705), align=None)
        Polygon((14.459515417, -4.912831705), (14.359515417, -5.012831705), (14.359515417, -8.590016683), (15.387945589, -8.590016683), (15.387945589, -5.012831705), (15.287945589, -4.912831705), align=None, mode=Mode.SUBTRACT)
    # profile 12 of 12: a face of its own
    with BuildSketch(Plane(origin=(0, 0.5, 0), x_dir=(1, 0, 0), z_dir=(0, 1, 0)).offset(CUT_EXTRUDE3_START)):
        Polygon((12.332339001, -8.690016683), (11.103908829, -8.690016683), (11.103908829, -4.971410349), (11.262487473, -4.812831705), (12.173760357, -4.812831705), (12.332339001, -4.971410349), align=None)
        Polygon((12.232339001, -8.590016683), (11.203908829, -8.590016683), (11.203908829, -5.012831705), (11.303908829, -4.912831705), (12.132339001, -4.912831705), (12.232339001, -5.012831705), align=None, mode=Mode.SUBTRACT)
    extrude(amount=CUT_EXTRUDE3_DEPTH)


with BuildPart() as part_2:
    add(part_1.part)

    # Cut-Extrude3: cut by cut_extrude3_tool
    add(cut_extrude3_tool.part, mode=Mode.SUBTRACT)


with BuildPart() as body_2_2:
    add(body_2_1.part)

    # Cut-Extrude3: cut by cut_extrude3_tool
    add(cut_extrude3_tool.part, mode=Mode.SUBTRACT)


solid = Compound([part_2.part, body_2_2.part])
